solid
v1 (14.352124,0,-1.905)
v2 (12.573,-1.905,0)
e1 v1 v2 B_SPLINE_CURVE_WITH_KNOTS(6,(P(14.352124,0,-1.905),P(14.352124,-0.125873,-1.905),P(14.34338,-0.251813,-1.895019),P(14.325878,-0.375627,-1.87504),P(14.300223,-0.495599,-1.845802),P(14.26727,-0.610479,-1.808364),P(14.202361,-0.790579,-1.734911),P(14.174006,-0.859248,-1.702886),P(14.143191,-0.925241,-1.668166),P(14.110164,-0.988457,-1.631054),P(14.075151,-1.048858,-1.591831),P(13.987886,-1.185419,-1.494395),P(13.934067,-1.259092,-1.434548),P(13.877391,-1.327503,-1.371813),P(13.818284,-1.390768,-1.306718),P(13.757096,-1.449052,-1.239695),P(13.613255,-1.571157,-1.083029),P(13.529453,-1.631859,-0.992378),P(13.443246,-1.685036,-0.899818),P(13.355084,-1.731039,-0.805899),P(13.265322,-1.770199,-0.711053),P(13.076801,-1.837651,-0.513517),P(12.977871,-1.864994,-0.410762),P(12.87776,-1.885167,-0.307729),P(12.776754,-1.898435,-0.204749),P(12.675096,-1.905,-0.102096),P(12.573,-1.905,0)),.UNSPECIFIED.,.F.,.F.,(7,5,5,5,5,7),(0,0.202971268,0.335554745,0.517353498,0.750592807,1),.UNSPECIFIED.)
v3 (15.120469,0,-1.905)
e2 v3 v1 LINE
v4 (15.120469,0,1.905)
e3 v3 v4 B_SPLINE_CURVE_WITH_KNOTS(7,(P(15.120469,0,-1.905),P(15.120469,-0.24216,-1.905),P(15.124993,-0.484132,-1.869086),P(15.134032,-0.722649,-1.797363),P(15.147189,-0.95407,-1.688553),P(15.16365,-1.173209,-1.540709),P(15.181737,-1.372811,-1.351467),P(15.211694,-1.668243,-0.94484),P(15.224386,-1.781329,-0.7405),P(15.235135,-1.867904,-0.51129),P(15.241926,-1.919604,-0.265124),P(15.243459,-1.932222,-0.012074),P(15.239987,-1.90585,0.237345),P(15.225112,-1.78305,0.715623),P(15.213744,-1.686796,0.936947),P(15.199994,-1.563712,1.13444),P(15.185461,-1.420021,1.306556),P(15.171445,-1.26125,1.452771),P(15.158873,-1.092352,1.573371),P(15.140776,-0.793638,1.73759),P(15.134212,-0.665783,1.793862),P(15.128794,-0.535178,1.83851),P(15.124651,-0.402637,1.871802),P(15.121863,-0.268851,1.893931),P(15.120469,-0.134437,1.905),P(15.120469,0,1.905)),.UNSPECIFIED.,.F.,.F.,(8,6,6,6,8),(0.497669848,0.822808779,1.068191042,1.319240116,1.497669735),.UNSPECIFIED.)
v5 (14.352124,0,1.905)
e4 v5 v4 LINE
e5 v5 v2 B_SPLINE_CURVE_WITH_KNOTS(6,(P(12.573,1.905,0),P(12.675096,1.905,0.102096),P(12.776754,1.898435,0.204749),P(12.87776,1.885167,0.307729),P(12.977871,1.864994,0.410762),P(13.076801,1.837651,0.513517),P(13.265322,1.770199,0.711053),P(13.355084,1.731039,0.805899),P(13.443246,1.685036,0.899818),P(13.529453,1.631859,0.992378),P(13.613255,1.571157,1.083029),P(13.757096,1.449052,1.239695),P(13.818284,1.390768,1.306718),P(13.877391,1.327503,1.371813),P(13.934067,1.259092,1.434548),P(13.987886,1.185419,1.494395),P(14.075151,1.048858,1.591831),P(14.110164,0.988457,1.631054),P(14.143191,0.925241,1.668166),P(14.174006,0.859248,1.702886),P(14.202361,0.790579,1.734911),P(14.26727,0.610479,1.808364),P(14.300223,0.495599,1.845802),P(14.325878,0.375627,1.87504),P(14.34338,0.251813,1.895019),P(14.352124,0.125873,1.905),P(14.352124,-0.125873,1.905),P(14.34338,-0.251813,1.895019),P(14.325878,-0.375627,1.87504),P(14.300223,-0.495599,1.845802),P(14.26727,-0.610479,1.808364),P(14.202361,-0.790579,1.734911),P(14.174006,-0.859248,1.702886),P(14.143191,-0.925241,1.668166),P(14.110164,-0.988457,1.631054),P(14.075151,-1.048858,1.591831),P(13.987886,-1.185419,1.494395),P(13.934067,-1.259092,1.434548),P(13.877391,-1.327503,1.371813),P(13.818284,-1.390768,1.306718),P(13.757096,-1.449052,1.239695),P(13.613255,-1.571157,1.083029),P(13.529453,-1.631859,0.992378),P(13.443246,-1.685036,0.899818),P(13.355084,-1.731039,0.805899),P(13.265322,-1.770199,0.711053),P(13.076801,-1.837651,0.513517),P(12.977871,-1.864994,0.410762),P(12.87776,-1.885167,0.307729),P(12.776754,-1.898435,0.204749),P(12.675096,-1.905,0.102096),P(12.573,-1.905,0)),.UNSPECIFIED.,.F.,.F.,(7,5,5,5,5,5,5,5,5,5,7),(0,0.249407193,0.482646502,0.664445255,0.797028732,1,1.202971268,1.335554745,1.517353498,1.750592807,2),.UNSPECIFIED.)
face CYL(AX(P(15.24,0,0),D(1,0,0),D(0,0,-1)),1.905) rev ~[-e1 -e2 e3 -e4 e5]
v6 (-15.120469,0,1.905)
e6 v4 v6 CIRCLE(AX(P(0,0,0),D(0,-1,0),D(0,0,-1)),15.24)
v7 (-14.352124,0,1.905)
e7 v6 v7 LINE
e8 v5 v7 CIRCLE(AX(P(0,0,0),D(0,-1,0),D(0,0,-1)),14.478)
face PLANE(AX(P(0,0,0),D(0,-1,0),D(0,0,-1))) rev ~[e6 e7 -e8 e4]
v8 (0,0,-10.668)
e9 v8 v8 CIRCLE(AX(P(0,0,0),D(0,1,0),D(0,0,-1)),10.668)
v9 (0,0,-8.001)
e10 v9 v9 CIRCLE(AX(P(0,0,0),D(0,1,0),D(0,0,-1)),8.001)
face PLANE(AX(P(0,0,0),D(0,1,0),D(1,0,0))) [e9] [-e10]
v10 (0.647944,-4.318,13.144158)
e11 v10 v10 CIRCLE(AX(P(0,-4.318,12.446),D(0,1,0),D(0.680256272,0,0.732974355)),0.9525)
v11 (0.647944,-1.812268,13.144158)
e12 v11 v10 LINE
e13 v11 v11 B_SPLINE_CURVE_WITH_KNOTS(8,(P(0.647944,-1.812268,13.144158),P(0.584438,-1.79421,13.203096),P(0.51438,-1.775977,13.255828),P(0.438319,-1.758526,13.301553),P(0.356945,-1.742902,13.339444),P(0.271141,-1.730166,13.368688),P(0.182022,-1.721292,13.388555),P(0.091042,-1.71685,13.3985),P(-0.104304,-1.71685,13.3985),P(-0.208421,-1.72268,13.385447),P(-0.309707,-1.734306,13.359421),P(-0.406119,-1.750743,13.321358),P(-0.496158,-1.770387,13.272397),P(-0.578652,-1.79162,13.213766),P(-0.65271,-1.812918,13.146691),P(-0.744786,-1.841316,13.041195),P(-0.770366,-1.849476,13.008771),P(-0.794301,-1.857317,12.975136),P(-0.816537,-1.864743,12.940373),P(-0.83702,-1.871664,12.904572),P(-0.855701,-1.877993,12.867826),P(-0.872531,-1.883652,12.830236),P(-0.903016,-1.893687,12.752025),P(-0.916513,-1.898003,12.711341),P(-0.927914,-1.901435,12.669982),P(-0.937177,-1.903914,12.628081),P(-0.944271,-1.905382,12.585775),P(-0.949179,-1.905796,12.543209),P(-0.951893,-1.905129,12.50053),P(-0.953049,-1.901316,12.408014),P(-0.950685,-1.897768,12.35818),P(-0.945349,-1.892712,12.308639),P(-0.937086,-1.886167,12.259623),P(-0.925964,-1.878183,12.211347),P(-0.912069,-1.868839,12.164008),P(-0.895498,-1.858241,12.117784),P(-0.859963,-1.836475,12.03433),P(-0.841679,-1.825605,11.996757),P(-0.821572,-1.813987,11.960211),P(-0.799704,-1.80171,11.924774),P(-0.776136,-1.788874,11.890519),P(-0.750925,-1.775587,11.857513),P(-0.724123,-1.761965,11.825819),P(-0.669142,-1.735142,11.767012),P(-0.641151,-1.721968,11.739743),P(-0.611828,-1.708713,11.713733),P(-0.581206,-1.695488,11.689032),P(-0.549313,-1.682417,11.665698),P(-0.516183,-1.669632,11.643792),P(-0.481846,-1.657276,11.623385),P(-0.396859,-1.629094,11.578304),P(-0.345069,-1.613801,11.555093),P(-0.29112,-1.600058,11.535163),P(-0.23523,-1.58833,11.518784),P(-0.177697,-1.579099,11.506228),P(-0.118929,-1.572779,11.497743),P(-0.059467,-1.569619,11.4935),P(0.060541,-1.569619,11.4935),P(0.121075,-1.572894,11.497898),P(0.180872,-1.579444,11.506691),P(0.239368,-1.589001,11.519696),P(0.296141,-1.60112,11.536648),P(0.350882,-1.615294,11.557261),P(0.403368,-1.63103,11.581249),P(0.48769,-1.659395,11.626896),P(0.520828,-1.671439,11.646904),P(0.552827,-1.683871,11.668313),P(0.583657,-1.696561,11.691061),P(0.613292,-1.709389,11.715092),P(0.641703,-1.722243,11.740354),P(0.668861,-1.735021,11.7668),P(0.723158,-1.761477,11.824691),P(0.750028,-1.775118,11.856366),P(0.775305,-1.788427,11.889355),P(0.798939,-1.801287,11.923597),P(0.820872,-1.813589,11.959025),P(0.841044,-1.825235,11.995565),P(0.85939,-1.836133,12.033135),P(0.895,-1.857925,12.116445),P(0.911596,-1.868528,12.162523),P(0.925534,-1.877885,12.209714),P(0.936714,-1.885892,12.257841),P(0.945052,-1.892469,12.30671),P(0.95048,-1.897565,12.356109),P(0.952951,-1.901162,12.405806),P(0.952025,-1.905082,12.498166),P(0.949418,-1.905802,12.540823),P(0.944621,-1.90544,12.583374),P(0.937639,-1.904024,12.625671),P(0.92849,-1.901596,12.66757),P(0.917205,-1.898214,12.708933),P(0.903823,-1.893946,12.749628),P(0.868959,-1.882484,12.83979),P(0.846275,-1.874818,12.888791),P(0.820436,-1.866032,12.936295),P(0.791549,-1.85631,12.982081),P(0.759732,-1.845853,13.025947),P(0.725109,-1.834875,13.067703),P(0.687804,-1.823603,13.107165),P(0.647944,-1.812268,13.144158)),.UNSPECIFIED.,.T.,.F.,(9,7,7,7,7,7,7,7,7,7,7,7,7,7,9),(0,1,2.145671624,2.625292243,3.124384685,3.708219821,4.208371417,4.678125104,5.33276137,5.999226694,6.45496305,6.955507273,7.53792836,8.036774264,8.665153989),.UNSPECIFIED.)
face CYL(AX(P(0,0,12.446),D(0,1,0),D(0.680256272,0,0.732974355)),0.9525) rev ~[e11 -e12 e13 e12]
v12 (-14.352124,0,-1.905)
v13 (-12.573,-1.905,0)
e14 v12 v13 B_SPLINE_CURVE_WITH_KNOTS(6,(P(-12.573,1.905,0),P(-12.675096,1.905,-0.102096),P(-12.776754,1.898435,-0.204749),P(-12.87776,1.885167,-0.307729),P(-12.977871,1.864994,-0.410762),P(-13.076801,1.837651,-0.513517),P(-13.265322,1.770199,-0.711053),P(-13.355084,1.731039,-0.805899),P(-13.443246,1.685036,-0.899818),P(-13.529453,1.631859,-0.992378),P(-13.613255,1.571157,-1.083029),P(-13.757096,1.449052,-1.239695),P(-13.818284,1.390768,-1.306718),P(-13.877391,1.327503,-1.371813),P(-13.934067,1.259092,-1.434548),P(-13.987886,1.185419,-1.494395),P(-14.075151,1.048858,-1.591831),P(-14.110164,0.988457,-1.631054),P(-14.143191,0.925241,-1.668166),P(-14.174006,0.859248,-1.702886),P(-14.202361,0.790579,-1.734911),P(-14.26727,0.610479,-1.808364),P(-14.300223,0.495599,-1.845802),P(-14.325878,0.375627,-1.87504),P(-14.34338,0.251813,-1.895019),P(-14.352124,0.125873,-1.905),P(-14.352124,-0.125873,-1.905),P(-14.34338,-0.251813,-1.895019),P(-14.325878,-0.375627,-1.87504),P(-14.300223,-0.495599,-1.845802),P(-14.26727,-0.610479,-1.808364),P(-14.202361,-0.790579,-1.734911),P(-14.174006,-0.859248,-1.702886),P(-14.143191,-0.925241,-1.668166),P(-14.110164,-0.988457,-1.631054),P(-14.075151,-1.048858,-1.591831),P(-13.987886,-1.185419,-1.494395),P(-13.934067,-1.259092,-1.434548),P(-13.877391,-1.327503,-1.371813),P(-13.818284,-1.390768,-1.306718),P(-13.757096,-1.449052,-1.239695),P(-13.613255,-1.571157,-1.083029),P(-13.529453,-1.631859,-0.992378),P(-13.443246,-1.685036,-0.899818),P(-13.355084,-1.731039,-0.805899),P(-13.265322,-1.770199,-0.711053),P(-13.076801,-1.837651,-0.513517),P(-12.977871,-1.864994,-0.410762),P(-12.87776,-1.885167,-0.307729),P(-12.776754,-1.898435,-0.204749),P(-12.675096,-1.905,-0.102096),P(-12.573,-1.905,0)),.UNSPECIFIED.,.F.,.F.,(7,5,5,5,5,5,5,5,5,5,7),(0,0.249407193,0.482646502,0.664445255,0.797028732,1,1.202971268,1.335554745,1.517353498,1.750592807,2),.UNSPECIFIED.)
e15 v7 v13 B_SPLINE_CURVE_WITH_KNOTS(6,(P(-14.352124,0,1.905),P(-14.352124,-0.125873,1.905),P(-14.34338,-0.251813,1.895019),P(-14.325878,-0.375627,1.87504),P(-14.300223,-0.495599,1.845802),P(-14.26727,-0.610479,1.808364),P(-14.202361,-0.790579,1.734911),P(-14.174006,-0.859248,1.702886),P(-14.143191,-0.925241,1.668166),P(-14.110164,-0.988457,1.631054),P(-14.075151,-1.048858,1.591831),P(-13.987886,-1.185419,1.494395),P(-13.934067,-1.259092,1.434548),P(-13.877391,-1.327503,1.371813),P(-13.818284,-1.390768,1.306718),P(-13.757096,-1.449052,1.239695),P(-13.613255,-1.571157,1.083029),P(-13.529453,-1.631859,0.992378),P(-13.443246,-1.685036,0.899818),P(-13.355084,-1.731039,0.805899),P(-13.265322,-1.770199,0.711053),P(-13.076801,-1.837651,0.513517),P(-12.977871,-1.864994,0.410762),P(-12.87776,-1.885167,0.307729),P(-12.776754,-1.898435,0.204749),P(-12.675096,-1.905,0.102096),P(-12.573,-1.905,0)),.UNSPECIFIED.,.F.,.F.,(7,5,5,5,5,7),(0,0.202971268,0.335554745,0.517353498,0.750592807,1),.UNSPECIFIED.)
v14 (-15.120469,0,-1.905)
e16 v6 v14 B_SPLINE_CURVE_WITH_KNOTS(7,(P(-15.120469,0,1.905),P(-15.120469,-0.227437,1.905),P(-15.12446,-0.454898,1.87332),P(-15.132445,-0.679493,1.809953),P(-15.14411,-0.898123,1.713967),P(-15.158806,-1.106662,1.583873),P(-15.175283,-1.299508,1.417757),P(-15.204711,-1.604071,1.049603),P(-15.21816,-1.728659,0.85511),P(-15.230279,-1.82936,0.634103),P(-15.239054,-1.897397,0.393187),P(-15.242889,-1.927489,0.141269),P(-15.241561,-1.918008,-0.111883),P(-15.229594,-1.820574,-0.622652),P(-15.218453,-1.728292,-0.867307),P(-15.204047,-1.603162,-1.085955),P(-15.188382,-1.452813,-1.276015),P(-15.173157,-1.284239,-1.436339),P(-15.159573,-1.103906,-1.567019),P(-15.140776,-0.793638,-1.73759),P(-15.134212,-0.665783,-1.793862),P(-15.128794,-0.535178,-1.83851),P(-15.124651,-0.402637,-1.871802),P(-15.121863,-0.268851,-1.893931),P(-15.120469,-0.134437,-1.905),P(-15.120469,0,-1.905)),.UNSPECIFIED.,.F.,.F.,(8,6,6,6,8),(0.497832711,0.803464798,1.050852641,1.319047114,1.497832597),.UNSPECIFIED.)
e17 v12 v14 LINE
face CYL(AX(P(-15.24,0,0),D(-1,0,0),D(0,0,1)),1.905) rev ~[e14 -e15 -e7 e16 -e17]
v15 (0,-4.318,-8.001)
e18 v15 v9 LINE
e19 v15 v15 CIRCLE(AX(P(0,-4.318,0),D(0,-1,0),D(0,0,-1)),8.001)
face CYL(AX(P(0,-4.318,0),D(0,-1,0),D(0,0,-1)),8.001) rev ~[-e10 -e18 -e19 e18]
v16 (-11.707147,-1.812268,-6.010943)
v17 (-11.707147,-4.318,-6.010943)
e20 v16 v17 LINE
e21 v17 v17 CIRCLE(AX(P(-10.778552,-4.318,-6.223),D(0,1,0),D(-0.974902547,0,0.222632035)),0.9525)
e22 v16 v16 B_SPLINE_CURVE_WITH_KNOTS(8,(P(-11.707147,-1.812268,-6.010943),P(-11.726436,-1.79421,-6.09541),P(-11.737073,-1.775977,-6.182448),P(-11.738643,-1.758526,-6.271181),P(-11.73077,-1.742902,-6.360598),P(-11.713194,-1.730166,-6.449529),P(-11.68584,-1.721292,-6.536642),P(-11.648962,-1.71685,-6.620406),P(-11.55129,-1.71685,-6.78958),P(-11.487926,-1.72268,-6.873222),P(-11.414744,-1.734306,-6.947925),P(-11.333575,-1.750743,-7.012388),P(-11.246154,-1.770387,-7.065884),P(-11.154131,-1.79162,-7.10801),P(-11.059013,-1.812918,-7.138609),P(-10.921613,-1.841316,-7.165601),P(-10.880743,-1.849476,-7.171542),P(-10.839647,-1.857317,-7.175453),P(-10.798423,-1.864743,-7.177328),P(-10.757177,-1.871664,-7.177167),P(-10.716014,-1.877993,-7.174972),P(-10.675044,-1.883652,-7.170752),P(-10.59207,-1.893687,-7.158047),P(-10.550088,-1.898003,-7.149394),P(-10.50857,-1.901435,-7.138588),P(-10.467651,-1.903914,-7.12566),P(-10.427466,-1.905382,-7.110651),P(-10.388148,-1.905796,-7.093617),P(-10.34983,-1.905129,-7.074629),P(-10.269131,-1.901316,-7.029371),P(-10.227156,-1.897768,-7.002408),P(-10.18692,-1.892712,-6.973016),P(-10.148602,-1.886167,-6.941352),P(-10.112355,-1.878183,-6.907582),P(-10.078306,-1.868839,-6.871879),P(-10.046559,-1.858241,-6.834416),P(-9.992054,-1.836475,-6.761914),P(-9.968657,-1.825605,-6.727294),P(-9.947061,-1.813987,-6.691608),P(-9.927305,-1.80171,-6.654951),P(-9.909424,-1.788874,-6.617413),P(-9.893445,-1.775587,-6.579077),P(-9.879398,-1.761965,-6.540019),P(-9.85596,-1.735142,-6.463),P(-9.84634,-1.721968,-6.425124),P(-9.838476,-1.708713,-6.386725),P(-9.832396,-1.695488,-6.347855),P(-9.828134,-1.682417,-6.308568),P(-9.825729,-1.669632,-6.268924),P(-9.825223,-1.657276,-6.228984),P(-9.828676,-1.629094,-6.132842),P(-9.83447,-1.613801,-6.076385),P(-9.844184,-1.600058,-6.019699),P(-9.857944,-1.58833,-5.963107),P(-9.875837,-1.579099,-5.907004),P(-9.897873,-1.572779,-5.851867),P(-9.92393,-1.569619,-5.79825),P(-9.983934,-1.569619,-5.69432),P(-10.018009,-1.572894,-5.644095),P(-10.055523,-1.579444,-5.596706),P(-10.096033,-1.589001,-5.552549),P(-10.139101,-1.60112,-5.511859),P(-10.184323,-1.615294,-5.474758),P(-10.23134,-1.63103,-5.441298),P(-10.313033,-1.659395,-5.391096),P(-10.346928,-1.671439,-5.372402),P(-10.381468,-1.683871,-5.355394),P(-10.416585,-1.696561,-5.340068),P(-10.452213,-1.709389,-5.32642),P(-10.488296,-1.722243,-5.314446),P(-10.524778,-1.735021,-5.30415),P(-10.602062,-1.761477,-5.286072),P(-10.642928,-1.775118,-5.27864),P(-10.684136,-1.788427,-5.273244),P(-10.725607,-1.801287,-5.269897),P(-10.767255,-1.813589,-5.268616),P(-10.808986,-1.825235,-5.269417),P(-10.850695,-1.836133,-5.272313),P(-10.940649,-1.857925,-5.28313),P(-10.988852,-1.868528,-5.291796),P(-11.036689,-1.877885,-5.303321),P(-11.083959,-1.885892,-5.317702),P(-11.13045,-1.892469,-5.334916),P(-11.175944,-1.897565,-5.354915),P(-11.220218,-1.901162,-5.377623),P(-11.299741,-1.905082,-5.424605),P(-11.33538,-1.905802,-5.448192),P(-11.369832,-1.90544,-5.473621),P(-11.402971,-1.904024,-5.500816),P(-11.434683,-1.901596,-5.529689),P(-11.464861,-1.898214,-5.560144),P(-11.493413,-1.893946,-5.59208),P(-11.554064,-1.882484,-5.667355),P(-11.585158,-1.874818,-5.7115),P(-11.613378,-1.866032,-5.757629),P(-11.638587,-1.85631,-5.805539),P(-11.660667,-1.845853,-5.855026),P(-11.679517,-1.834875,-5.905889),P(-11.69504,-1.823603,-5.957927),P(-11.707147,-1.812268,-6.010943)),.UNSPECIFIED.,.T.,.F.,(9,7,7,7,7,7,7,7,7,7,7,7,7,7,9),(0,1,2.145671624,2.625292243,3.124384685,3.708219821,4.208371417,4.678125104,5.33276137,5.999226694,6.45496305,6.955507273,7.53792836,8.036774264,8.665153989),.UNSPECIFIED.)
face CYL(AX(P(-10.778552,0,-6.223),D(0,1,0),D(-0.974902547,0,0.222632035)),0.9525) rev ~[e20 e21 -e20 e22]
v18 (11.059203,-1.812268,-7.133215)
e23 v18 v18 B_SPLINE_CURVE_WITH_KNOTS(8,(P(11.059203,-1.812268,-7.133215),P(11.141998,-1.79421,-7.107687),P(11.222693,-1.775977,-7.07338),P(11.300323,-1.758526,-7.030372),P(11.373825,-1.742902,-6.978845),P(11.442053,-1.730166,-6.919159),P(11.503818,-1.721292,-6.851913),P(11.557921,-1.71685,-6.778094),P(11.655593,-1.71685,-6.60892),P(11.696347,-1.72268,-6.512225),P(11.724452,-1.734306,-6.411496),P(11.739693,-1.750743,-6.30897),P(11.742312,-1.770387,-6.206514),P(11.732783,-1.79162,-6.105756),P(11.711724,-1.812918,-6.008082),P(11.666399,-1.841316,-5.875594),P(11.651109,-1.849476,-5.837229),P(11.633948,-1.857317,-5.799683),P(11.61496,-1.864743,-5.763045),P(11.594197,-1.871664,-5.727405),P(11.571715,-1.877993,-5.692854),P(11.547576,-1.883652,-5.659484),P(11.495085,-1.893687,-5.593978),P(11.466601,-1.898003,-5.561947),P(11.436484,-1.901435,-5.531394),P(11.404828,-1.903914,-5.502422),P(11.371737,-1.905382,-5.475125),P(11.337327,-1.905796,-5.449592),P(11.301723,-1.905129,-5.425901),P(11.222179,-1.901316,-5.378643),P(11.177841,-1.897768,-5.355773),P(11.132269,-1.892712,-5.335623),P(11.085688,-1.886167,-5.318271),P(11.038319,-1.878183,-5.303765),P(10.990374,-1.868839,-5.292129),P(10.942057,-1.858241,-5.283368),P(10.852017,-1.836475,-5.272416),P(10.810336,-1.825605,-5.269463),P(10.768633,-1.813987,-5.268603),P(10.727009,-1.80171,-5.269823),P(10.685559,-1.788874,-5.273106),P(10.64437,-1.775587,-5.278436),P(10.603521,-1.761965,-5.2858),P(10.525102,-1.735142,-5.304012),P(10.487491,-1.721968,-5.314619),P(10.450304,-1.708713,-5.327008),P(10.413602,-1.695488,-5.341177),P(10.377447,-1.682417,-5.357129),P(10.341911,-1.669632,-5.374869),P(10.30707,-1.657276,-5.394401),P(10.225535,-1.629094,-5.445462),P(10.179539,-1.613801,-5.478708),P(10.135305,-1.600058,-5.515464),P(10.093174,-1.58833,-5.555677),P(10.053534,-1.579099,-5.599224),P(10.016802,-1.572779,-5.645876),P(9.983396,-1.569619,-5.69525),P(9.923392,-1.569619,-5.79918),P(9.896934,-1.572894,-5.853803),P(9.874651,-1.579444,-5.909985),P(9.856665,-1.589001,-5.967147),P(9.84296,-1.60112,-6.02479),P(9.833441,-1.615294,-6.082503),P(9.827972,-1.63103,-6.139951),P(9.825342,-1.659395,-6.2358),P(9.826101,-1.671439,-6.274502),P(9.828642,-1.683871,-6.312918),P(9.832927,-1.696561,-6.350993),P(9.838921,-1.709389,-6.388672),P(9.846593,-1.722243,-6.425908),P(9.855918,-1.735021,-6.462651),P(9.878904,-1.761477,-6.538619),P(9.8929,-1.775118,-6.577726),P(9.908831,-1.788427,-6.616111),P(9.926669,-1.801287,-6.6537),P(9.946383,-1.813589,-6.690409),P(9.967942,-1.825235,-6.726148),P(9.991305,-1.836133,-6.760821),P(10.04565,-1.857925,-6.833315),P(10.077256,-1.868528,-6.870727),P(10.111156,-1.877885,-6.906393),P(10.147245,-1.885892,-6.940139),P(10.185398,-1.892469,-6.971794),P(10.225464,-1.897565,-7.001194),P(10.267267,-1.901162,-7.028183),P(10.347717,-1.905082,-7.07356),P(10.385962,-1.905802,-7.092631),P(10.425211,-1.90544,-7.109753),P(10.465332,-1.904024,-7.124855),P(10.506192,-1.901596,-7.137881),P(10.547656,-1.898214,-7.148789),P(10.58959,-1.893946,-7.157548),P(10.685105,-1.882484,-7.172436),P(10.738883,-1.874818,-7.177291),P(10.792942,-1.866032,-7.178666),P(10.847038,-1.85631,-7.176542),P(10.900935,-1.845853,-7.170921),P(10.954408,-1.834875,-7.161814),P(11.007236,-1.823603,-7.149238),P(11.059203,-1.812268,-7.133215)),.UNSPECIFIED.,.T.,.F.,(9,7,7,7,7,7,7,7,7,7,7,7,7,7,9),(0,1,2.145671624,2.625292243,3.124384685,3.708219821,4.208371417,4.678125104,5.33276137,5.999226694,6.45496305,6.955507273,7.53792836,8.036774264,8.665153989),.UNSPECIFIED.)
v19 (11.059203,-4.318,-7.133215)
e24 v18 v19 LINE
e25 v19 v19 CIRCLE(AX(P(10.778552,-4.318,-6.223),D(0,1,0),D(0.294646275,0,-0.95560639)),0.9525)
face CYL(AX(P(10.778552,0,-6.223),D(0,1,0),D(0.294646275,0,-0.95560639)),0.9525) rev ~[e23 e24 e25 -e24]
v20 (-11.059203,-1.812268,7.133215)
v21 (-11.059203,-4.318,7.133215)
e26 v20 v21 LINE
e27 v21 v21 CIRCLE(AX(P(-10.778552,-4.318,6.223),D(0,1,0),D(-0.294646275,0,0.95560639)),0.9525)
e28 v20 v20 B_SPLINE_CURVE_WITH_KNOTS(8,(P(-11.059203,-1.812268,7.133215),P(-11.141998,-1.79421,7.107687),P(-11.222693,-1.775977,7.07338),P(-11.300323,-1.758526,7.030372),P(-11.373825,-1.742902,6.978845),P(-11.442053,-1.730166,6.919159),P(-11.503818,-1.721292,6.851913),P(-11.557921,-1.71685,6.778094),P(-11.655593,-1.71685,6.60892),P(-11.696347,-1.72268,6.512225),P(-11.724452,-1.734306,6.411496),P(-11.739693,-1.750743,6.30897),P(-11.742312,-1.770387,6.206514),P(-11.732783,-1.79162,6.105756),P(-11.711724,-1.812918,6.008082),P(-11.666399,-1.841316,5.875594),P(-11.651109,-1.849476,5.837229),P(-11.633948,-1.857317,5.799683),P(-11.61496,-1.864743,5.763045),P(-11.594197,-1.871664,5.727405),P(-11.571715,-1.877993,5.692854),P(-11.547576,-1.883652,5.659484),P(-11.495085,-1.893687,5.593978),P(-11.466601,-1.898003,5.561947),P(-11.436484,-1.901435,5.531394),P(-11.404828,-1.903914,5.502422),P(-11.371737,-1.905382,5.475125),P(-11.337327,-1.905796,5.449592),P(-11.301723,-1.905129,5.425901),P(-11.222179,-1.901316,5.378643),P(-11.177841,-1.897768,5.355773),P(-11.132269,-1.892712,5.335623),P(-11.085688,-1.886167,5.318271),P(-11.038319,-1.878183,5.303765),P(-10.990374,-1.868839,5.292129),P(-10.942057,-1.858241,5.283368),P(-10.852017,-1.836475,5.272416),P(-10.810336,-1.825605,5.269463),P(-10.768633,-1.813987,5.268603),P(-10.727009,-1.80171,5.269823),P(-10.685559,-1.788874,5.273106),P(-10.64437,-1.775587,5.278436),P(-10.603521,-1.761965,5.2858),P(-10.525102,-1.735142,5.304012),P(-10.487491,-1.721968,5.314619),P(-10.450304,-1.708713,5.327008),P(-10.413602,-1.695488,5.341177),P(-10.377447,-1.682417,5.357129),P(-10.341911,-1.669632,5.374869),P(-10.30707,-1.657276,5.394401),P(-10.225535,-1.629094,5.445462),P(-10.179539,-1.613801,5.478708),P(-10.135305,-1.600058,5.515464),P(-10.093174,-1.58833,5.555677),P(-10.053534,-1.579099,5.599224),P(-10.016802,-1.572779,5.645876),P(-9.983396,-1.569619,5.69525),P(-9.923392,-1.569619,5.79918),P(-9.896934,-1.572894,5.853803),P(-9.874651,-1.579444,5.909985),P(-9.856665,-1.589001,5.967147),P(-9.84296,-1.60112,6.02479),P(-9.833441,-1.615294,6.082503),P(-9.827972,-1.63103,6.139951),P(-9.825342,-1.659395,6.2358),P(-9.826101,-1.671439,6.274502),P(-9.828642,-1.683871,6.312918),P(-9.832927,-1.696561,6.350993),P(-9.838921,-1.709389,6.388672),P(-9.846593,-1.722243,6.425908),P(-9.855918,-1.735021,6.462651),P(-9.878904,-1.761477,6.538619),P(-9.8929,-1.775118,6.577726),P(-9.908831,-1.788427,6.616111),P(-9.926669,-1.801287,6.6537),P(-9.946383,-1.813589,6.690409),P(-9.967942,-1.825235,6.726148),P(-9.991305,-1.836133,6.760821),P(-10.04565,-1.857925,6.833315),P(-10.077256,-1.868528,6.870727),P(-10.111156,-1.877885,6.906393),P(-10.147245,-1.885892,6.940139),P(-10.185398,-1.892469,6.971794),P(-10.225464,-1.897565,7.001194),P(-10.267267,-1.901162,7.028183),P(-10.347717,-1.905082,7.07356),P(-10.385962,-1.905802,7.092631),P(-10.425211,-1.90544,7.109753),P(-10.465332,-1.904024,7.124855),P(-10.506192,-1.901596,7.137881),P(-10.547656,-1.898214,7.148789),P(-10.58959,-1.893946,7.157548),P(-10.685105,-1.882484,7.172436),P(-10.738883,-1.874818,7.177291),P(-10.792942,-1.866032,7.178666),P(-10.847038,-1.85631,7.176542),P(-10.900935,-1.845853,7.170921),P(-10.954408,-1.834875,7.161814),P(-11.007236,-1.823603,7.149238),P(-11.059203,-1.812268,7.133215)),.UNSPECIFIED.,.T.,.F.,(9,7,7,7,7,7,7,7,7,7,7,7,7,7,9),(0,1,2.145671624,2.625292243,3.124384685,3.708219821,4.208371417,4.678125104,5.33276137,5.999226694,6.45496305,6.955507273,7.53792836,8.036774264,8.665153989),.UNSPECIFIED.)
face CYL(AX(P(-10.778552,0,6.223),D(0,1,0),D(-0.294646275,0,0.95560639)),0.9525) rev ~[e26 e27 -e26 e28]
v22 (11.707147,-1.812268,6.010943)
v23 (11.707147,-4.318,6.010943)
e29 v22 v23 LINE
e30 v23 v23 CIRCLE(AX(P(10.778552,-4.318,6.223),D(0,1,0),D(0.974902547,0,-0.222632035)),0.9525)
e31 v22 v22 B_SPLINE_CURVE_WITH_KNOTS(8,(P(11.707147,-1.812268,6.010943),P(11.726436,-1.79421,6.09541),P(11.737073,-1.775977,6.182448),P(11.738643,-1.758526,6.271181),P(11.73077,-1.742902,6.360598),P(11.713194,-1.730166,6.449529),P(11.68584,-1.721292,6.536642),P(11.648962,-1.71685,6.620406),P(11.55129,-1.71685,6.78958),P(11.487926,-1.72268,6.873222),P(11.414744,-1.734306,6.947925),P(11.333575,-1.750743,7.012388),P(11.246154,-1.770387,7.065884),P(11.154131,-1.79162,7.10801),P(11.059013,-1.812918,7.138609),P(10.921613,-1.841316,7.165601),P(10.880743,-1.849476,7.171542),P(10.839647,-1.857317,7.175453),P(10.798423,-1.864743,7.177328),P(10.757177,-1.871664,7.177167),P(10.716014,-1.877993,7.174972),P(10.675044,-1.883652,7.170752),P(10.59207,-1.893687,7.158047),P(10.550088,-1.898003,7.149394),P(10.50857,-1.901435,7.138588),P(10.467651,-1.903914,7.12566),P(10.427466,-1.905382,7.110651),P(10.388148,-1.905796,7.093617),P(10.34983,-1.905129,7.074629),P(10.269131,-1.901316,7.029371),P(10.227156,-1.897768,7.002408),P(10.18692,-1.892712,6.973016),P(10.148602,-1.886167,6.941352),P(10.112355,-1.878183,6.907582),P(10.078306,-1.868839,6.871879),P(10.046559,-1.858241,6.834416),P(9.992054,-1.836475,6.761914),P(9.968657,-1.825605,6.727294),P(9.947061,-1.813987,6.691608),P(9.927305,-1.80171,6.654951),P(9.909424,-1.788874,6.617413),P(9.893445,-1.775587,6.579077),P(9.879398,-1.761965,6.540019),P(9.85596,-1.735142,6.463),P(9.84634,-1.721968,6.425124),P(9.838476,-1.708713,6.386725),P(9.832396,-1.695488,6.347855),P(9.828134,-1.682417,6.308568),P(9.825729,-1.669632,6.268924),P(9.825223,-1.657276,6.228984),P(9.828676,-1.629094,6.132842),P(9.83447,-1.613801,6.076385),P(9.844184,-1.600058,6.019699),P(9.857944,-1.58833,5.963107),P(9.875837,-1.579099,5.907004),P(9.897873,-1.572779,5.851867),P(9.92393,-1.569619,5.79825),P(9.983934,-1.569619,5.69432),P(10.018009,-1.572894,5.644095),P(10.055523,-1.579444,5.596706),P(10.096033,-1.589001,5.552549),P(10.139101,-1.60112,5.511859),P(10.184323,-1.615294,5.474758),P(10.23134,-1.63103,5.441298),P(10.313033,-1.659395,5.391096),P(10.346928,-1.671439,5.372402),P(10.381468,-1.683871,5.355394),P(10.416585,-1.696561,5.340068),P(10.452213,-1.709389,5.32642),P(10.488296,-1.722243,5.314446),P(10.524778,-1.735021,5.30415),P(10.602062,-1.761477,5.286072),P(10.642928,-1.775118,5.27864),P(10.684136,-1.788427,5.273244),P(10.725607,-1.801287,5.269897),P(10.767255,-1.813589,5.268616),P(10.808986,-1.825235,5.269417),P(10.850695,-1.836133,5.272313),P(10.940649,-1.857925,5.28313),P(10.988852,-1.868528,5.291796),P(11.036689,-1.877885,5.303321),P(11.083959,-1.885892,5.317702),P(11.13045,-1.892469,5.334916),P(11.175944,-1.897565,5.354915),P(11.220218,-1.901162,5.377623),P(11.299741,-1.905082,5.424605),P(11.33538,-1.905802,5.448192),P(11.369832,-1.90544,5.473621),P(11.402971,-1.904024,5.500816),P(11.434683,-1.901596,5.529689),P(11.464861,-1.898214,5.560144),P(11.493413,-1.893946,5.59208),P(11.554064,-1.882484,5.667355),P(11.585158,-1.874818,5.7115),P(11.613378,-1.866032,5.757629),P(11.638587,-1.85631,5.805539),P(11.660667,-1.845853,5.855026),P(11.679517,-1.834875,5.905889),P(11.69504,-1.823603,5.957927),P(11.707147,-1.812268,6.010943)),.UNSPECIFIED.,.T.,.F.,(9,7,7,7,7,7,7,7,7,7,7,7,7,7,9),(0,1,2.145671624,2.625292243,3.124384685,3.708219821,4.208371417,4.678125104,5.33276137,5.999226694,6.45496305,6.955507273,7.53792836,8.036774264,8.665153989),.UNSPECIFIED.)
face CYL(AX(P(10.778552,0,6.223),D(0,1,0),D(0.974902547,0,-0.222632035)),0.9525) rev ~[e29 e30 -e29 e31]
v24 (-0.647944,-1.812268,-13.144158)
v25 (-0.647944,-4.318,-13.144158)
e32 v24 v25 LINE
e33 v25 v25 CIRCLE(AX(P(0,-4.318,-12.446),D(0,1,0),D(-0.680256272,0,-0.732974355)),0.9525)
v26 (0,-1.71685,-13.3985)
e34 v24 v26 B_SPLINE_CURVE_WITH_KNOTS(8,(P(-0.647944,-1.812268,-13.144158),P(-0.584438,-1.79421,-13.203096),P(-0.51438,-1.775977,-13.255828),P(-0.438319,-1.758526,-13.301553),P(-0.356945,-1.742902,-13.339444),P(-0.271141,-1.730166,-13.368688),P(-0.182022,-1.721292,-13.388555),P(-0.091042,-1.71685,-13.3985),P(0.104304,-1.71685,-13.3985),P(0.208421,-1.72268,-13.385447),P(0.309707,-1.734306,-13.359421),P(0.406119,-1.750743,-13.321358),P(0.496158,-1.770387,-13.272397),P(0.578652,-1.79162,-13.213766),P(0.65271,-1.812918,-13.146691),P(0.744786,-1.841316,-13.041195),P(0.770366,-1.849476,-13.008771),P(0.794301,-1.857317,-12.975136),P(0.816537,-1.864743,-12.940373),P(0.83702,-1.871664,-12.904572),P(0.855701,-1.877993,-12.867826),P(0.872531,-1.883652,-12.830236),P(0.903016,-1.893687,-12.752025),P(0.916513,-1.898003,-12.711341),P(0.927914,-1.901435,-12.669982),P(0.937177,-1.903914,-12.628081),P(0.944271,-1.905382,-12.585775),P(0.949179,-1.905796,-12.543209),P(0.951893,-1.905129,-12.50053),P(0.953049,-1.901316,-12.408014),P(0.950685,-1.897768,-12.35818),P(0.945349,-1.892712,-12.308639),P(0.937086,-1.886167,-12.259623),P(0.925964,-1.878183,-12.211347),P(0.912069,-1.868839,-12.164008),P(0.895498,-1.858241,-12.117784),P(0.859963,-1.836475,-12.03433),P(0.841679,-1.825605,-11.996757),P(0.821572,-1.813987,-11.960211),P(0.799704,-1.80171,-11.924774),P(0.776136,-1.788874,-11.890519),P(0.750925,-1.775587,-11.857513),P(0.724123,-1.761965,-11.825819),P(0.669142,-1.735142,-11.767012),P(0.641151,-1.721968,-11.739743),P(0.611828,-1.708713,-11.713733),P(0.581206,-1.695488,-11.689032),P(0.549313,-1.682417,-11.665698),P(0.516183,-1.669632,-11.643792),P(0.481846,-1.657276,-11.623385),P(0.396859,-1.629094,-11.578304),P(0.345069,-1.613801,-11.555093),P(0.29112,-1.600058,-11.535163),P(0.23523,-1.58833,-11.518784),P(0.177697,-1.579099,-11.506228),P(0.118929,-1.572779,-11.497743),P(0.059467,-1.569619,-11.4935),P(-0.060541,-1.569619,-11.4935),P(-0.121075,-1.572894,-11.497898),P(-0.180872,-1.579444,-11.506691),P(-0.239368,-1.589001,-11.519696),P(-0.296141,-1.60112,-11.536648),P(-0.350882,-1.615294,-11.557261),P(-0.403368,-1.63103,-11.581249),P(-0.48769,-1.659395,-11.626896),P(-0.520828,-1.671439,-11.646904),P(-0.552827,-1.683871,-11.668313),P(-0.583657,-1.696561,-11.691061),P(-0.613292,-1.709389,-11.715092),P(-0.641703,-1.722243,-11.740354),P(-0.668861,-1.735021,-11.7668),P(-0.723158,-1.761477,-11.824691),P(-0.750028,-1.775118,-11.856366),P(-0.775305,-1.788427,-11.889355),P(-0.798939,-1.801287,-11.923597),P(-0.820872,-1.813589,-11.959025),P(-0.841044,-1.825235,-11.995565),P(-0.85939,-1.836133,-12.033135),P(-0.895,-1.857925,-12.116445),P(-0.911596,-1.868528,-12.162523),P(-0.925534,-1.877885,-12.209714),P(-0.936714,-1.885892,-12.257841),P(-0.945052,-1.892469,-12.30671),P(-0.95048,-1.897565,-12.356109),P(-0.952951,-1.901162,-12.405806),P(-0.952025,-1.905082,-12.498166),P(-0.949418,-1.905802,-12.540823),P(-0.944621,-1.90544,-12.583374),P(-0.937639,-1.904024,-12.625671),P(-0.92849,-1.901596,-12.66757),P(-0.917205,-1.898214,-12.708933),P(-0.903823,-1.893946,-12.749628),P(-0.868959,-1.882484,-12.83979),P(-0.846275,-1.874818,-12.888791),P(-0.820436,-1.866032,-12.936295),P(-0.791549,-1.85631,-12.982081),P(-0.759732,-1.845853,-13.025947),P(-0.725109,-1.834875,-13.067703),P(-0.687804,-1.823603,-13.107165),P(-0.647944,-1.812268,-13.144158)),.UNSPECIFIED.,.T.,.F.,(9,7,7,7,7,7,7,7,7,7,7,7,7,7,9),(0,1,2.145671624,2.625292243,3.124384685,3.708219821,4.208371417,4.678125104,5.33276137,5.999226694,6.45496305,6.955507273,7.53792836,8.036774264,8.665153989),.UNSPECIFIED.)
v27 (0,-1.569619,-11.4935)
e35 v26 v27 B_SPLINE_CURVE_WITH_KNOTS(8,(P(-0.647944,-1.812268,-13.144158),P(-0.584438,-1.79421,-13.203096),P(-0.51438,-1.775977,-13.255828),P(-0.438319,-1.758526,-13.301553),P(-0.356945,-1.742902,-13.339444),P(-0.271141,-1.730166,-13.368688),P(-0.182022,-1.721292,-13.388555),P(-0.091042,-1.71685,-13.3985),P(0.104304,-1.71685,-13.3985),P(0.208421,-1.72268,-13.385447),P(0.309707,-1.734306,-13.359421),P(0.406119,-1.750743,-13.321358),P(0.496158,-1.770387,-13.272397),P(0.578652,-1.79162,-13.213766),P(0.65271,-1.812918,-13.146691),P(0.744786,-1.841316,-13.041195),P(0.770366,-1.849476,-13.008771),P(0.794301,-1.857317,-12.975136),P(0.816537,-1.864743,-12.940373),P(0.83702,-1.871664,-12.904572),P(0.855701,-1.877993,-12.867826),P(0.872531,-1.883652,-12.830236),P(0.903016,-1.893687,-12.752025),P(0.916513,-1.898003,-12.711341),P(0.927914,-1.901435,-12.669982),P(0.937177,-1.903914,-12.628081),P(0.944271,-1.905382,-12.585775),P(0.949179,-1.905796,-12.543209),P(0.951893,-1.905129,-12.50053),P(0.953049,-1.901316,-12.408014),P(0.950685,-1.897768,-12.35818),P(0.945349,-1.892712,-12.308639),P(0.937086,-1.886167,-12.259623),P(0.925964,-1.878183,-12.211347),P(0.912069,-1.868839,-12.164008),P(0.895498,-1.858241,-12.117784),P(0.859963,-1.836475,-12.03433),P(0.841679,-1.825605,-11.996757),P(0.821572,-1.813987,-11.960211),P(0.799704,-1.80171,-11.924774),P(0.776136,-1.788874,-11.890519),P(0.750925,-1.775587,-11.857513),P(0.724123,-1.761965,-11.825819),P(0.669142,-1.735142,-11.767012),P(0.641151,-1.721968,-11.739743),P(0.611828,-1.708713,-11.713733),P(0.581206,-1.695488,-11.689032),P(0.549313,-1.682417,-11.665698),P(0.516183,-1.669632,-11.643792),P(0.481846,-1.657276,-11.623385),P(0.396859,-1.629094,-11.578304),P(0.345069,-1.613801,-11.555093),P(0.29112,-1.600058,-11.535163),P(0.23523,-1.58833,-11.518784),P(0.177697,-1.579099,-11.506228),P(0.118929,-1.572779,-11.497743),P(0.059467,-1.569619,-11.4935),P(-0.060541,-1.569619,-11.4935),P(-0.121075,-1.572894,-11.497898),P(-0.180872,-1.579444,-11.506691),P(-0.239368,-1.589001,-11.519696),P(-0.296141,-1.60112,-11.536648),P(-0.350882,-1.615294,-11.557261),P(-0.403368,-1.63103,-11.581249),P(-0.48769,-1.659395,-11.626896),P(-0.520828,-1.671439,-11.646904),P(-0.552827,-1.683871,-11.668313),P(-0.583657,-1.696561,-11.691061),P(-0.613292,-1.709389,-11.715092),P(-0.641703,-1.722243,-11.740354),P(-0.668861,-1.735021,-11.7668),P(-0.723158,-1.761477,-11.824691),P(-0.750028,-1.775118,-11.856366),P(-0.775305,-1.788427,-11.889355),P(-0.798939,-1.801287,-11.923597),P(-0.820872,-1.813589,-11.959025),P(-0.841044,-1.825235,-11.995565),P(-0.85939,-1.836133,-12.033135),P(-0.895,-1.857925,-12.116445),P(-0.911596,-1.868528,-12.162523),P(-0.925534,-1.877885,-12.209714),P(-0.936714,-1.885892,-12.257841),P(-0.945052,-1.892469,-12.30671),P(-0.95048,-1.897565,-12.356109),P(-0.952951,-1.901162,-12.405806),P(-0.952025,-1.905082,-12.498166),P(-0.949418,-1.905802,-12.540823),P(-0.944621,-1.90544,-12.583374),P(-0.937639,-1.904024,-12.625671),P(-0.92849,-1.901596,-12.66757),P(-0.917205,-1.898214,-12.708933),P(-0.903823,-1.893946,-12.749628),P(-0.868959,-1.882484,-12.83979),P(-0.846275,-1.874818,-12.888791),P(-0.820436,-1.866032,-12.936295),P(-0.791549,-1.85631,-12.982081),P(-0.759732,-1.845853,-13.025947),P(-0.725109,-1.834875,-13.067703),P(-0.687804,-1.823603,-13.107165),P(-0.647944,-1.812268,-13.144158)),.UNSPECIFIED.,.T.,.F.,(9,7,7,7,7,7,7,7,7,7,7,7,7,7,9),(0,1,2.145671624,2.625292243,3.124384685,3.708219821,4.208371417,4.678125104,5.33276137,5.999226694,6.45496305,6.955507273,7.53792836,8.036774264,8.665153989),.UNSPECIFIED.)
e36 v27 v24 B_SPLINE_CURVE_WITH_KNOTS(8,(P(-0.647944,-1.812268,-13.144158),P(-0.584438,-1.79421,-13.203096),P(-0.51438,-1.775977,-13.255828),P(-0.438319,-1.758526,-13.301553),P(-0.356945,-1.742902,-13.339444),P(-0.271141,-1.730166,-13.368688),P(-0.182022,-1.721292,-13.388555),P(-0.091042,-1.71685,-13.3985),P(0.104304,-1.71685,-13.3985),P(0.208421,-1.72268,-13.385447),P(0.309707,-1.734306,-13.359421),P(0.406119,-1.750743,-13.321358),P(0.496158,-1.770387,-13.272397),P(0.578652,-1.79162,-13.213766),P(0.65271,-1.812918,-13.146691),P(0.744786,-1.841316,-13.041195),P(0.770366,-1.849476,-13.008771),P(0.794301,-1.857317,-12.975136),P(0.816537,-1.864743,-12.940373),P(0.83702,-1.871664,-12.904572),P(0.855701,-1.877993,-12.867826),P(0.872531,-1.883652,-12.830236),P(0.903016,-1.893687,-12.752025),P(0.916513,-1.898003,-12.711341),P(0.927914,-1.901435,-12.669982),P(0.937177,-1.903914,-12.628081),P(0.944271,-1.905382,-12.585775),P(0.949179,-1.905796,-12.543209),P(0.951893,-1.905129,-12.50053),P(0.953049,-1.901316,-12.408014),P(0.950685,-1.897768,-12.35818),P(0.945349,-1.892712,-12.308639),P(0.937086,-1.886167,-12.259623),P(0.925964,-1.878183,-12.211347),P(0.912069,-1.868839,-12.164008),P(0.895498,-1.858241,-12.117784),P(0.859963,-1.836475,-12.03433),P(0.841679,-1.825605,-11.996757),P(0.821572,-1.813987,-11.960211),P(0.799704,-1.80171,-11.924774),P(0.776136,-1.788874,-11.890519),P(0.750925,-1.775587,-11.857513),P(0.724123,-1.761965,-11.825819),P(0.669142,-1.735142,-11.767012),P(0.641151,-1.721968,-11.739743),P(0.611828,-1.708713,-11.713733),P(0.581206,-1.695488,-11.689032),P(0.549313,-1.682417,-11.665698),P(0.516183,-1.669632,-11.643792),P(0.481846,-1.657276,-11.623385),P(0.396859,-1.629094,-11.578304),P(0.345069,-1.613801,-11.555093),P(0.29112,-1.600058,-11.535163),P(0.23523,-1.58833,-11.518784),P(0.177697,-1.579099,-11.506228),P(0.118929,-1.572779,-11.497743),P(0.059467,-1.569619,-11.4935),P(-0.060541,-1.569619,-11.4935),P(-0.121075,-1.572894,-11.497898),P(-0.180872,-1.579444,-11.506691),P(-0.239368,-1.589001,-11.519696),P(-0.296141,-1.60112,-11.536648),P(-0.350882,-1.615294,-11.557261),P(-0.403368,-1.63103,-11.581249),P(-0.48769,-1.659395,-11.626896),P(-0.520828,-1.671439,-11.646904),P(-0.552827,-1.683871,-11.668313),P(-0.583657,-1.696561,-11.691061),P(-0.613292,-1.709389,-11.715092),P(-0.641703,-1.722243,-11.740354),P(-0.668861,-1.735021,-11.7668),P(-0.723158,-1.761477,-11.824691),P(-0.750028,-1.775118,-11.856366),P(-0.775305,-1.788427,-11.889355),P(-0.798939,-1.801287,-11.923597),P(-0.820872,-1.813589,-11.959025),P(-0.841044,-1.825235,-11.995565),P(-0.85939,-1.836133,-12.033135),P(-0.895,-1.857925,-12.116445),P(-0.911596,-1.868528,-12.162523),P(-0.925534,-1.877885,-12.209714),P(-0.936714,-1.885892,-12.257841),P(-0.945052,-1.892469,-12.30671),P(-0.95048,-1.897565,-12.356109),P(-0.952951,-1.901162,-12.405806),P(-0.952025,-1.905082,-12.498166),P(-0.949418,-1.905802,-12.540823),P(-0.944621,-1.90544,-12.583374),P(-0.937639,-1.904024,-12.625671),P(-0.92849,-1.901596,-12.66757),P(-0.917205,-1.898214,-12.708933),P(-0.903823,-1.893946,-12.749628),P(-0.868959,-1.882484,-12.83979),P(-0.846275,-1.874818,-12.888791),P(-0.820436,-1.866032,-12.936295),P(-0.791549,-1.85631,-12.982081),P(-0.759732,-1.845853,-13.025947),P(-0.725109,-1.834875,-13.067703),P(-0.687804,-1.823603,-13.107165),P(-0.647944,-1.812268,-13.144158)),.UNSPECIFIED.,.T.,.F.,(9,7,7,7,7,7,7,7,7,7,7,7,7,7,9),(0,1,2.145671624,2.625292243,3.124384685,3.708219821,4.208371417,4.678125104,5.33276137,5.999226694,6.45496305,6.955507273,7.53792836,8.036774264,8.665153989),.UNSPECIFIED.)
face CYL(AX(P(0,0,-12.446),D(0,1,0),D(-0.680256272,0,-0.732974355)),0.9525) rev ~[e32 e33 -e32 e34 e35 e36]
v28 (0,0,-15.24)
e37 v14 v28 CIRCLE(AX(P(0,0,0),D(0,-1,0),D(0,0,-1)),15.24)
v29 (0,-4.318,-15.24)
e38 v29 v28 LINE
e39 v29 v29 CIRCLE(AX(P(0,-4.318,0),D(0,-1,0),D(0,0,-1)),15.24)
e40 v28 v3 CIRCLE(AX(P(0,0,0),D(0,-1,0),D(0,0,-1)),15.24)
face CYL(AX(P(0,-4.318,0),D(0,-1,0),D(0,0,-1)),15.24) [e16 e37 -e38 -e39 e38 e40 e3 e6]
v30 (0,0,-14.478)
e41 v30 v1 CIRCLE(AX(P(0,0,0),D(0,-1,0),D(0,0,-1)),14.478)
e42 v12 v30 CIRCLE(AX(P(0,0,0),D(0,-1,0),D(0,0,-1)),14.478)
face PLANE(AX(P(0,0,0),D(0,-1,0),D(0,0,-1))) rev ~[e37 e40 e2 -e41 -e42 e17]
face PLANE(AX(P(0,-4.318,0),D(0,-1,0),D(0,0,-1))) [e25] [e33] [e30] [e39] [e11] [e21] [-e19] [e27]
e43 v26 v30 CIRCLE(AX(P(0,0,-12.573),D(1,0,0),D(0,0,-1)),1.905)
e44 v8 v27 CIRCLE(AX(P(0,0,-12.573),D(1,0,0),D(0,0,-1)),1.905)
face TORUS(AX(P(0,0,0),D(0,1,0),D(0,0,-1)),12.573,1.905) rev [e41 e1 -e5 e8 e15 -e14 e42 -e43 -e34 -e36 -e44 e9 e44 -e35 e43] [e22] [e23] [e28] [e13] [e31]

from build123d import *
from build123d.topology import SkipClean

# Parameters (mm, degrees)
SKETCH1_R                     = 10.414
SKETCH1_R_2                   = 8.001
BOSS_EXTRUDE1_DEPTH           = 4.318
BOSS_EXTRUDE2_START           = 4.318
SKETCH2_R                     = 15.24
SKETCH2_R_2                   = 8.001
BOSS_EXTRUDE2_DEPTH           = 4.318
SKETCH3_R                     = 1.905
CUT_EXTRUDE1_REACH            = 23.981
SKETCH4_R                     = 0.9525
CIRPATTERN1_COUNT             = 6
CUT_EXTRUDE2_START            = -4.318
SKETCH5_R                     = 10.414
CUT_EXTRUDE2_DEPTH            = 4.318
CUT_EXTRUDE3_REACH            = 36.35
CUT_EXTRUDE3_END_MAJOR_RADIUS = 12.573
CUT_EXTRUDE3_END_MINOR_RADIUS = 1.905
SKETCH8_R                     = 1.905
CIRPATTERN2_COUNT             = 2


with BuildPart() as part:
    # Sketch1 → Boss-Extrude1 (new body)
    with BuildSketch(Plane(origin=(0, 0, 0), x_dir=(1, 0, 0), z_dir=(0, 1, 0))):
        with Locations(Location((0, 0, 0), (0, 0, 270))):
            Circle(SKETCH1_R)
        with Locations(Location((0, 0, 0), (0, 0, 270))):
            Circle(SKETCH1_R_2, mode=Mode.SUBTRACT)
    extrude(amount=BOSS_EXTRUDE1_DEPTH)

    # Sketch2 → Boss-Extrude2 (add)
    with SkipClean():  # the faces are left unmerged after this step: merging them gives an invalid solid
        with BuildSketch(Plane.XZ.offset(BOSS_EXTRUDE2_START)):
            with Locations(Location((0, 0, 0), (0, 0, 270))):
                Circle(SKETCH2_R)
            with Locations(Location((0, 0, 0), (0, 0, 270))):
                Circle(SKETCH2_R_2, mode=Mode.SUBTRACT)
        extrude(amount=-BOSS_EXTRUDE2_DEPTH)

    # Sketch3 → Cut-Revolve1 (revolve, cut)
    with SkipClean():  # the faces are left unmerged after this step: merging them gives an invalid solid
        with BuildSketch(Plane.XY, mode=Mode.PRIVATE) as cut_revolve1_sk:
            with Locations((12.573, 0)):
                Circle(SKETCH3_R)
        revolve(cut_revolve1_sk.sketch.rotate(Axis((0, 55, 0), (0, -1, 0)), 270), axis=Axis((0, 55, 0), (0, -1, 0)), mode=Mode.SUBTRACT)

    # Sketch4 → Cut-Extrude1 (cut, up to next)
    with BuildSketch(Plane(origin=(0, 0, 0), x_dir=(1, 0, 0), z_dir=(0, 1, 0)), mode=Mode.PRIVATE) as cut_extrude1_sk1:
        with Locations(Location((0, 12.446, 0), (0, 0, 132.863672282))):
            Circle(SKETCH4_R)
    cut_extrude1_tool1 = extrude(cut_extrude1_sk1.sketch, amount=-CUT_EXTRUDE1_REACH, mode=Mode.PRIVATE) & part.part
    cut_extrude1 = cut_extrude1_tool1.solids().sort_by_distance((0, 0, -12.446))[0]
    add(cut_extrude1, mode=Mode.SUBTRACT)

    # CirPattern1: Cut-Extrude1 ×6 about axis
    with SkipClean():  # the faces are left unmerged after this step: merging them gives an invalid solid
        cirpattern1_axis = Axis((0, 0, 0), (0, 1, 0))
        for i in range(1, CIRPATTERN1_COUNT):
            add(cut_extrude1.rotate(cirpattern1_axis, i * 360 / CIRPATTERN1_COUNT), mode=Mode.SUBTRACT)

    # Sketch5 → Cut-Extrude2 (cut)
    with BuildSketch(Plane(origin=(0, 4.318, 0), x_dir=(1, 0, 0), z_dir=(0, 1, 0)).offset(CUT_EXTRUDE2_START)):
        Circle(SKETCH5_R)
    extrude(amount=CUT_EXTRUDE2_DEPTH, mode=Mode.SUBTRACT)

    # Cut-Extrude3: up to this torus (the profile starts outside it)
    cut_extrude3_end = Plane(origin=(0, 0, 0), z_dir=(0, 1, 0)) * Torus(CUT_EXTRUDE3_END_MAJOR_RADIUS, CUT_EXTRUDE3_END_MINOR_RADIUS, mode=Mode.PRIVATE)
    # Sketch8 → Cut-Extrude3 (cut, up to the surface)
    with BuildSketch(Plane(origin=(15.24, 0, 0), x_dir=(0, 0, -1), z_dir=(1, 0, 0)), mode=Mode.PRIVATE) as cut_extrude3_sk1:
        Circle(SKETCH8_R)
    cut_extrude3_tool1 = extrude(cut_extrude3_sk1.sketch, amount=-CUT_EXTRUDE3_REACH, mode=Mode.PRIVATE) - cut_extrude3_end
    cut_extrude3 = cut_extrude3_tool1.solids().sort_by_distance((15.24, 0, 0))[0]
    add(cut_extrude3, mode=Mode.SUBTRACT)

    # CirPattern2: Cut-Extrude3 ×2 about axis
    cirpattern2_axis = Axis((0, 55, 0), (0, -1, 0))
    for i in range(1, CIRPATTERN2_COUNT):
        add(cut_extrude3.rotate(cirpattern2_axis, i * 360 / CIRPATTERN2_COUNT), mode=Mode.SUBTRACT)


solid = part.part
